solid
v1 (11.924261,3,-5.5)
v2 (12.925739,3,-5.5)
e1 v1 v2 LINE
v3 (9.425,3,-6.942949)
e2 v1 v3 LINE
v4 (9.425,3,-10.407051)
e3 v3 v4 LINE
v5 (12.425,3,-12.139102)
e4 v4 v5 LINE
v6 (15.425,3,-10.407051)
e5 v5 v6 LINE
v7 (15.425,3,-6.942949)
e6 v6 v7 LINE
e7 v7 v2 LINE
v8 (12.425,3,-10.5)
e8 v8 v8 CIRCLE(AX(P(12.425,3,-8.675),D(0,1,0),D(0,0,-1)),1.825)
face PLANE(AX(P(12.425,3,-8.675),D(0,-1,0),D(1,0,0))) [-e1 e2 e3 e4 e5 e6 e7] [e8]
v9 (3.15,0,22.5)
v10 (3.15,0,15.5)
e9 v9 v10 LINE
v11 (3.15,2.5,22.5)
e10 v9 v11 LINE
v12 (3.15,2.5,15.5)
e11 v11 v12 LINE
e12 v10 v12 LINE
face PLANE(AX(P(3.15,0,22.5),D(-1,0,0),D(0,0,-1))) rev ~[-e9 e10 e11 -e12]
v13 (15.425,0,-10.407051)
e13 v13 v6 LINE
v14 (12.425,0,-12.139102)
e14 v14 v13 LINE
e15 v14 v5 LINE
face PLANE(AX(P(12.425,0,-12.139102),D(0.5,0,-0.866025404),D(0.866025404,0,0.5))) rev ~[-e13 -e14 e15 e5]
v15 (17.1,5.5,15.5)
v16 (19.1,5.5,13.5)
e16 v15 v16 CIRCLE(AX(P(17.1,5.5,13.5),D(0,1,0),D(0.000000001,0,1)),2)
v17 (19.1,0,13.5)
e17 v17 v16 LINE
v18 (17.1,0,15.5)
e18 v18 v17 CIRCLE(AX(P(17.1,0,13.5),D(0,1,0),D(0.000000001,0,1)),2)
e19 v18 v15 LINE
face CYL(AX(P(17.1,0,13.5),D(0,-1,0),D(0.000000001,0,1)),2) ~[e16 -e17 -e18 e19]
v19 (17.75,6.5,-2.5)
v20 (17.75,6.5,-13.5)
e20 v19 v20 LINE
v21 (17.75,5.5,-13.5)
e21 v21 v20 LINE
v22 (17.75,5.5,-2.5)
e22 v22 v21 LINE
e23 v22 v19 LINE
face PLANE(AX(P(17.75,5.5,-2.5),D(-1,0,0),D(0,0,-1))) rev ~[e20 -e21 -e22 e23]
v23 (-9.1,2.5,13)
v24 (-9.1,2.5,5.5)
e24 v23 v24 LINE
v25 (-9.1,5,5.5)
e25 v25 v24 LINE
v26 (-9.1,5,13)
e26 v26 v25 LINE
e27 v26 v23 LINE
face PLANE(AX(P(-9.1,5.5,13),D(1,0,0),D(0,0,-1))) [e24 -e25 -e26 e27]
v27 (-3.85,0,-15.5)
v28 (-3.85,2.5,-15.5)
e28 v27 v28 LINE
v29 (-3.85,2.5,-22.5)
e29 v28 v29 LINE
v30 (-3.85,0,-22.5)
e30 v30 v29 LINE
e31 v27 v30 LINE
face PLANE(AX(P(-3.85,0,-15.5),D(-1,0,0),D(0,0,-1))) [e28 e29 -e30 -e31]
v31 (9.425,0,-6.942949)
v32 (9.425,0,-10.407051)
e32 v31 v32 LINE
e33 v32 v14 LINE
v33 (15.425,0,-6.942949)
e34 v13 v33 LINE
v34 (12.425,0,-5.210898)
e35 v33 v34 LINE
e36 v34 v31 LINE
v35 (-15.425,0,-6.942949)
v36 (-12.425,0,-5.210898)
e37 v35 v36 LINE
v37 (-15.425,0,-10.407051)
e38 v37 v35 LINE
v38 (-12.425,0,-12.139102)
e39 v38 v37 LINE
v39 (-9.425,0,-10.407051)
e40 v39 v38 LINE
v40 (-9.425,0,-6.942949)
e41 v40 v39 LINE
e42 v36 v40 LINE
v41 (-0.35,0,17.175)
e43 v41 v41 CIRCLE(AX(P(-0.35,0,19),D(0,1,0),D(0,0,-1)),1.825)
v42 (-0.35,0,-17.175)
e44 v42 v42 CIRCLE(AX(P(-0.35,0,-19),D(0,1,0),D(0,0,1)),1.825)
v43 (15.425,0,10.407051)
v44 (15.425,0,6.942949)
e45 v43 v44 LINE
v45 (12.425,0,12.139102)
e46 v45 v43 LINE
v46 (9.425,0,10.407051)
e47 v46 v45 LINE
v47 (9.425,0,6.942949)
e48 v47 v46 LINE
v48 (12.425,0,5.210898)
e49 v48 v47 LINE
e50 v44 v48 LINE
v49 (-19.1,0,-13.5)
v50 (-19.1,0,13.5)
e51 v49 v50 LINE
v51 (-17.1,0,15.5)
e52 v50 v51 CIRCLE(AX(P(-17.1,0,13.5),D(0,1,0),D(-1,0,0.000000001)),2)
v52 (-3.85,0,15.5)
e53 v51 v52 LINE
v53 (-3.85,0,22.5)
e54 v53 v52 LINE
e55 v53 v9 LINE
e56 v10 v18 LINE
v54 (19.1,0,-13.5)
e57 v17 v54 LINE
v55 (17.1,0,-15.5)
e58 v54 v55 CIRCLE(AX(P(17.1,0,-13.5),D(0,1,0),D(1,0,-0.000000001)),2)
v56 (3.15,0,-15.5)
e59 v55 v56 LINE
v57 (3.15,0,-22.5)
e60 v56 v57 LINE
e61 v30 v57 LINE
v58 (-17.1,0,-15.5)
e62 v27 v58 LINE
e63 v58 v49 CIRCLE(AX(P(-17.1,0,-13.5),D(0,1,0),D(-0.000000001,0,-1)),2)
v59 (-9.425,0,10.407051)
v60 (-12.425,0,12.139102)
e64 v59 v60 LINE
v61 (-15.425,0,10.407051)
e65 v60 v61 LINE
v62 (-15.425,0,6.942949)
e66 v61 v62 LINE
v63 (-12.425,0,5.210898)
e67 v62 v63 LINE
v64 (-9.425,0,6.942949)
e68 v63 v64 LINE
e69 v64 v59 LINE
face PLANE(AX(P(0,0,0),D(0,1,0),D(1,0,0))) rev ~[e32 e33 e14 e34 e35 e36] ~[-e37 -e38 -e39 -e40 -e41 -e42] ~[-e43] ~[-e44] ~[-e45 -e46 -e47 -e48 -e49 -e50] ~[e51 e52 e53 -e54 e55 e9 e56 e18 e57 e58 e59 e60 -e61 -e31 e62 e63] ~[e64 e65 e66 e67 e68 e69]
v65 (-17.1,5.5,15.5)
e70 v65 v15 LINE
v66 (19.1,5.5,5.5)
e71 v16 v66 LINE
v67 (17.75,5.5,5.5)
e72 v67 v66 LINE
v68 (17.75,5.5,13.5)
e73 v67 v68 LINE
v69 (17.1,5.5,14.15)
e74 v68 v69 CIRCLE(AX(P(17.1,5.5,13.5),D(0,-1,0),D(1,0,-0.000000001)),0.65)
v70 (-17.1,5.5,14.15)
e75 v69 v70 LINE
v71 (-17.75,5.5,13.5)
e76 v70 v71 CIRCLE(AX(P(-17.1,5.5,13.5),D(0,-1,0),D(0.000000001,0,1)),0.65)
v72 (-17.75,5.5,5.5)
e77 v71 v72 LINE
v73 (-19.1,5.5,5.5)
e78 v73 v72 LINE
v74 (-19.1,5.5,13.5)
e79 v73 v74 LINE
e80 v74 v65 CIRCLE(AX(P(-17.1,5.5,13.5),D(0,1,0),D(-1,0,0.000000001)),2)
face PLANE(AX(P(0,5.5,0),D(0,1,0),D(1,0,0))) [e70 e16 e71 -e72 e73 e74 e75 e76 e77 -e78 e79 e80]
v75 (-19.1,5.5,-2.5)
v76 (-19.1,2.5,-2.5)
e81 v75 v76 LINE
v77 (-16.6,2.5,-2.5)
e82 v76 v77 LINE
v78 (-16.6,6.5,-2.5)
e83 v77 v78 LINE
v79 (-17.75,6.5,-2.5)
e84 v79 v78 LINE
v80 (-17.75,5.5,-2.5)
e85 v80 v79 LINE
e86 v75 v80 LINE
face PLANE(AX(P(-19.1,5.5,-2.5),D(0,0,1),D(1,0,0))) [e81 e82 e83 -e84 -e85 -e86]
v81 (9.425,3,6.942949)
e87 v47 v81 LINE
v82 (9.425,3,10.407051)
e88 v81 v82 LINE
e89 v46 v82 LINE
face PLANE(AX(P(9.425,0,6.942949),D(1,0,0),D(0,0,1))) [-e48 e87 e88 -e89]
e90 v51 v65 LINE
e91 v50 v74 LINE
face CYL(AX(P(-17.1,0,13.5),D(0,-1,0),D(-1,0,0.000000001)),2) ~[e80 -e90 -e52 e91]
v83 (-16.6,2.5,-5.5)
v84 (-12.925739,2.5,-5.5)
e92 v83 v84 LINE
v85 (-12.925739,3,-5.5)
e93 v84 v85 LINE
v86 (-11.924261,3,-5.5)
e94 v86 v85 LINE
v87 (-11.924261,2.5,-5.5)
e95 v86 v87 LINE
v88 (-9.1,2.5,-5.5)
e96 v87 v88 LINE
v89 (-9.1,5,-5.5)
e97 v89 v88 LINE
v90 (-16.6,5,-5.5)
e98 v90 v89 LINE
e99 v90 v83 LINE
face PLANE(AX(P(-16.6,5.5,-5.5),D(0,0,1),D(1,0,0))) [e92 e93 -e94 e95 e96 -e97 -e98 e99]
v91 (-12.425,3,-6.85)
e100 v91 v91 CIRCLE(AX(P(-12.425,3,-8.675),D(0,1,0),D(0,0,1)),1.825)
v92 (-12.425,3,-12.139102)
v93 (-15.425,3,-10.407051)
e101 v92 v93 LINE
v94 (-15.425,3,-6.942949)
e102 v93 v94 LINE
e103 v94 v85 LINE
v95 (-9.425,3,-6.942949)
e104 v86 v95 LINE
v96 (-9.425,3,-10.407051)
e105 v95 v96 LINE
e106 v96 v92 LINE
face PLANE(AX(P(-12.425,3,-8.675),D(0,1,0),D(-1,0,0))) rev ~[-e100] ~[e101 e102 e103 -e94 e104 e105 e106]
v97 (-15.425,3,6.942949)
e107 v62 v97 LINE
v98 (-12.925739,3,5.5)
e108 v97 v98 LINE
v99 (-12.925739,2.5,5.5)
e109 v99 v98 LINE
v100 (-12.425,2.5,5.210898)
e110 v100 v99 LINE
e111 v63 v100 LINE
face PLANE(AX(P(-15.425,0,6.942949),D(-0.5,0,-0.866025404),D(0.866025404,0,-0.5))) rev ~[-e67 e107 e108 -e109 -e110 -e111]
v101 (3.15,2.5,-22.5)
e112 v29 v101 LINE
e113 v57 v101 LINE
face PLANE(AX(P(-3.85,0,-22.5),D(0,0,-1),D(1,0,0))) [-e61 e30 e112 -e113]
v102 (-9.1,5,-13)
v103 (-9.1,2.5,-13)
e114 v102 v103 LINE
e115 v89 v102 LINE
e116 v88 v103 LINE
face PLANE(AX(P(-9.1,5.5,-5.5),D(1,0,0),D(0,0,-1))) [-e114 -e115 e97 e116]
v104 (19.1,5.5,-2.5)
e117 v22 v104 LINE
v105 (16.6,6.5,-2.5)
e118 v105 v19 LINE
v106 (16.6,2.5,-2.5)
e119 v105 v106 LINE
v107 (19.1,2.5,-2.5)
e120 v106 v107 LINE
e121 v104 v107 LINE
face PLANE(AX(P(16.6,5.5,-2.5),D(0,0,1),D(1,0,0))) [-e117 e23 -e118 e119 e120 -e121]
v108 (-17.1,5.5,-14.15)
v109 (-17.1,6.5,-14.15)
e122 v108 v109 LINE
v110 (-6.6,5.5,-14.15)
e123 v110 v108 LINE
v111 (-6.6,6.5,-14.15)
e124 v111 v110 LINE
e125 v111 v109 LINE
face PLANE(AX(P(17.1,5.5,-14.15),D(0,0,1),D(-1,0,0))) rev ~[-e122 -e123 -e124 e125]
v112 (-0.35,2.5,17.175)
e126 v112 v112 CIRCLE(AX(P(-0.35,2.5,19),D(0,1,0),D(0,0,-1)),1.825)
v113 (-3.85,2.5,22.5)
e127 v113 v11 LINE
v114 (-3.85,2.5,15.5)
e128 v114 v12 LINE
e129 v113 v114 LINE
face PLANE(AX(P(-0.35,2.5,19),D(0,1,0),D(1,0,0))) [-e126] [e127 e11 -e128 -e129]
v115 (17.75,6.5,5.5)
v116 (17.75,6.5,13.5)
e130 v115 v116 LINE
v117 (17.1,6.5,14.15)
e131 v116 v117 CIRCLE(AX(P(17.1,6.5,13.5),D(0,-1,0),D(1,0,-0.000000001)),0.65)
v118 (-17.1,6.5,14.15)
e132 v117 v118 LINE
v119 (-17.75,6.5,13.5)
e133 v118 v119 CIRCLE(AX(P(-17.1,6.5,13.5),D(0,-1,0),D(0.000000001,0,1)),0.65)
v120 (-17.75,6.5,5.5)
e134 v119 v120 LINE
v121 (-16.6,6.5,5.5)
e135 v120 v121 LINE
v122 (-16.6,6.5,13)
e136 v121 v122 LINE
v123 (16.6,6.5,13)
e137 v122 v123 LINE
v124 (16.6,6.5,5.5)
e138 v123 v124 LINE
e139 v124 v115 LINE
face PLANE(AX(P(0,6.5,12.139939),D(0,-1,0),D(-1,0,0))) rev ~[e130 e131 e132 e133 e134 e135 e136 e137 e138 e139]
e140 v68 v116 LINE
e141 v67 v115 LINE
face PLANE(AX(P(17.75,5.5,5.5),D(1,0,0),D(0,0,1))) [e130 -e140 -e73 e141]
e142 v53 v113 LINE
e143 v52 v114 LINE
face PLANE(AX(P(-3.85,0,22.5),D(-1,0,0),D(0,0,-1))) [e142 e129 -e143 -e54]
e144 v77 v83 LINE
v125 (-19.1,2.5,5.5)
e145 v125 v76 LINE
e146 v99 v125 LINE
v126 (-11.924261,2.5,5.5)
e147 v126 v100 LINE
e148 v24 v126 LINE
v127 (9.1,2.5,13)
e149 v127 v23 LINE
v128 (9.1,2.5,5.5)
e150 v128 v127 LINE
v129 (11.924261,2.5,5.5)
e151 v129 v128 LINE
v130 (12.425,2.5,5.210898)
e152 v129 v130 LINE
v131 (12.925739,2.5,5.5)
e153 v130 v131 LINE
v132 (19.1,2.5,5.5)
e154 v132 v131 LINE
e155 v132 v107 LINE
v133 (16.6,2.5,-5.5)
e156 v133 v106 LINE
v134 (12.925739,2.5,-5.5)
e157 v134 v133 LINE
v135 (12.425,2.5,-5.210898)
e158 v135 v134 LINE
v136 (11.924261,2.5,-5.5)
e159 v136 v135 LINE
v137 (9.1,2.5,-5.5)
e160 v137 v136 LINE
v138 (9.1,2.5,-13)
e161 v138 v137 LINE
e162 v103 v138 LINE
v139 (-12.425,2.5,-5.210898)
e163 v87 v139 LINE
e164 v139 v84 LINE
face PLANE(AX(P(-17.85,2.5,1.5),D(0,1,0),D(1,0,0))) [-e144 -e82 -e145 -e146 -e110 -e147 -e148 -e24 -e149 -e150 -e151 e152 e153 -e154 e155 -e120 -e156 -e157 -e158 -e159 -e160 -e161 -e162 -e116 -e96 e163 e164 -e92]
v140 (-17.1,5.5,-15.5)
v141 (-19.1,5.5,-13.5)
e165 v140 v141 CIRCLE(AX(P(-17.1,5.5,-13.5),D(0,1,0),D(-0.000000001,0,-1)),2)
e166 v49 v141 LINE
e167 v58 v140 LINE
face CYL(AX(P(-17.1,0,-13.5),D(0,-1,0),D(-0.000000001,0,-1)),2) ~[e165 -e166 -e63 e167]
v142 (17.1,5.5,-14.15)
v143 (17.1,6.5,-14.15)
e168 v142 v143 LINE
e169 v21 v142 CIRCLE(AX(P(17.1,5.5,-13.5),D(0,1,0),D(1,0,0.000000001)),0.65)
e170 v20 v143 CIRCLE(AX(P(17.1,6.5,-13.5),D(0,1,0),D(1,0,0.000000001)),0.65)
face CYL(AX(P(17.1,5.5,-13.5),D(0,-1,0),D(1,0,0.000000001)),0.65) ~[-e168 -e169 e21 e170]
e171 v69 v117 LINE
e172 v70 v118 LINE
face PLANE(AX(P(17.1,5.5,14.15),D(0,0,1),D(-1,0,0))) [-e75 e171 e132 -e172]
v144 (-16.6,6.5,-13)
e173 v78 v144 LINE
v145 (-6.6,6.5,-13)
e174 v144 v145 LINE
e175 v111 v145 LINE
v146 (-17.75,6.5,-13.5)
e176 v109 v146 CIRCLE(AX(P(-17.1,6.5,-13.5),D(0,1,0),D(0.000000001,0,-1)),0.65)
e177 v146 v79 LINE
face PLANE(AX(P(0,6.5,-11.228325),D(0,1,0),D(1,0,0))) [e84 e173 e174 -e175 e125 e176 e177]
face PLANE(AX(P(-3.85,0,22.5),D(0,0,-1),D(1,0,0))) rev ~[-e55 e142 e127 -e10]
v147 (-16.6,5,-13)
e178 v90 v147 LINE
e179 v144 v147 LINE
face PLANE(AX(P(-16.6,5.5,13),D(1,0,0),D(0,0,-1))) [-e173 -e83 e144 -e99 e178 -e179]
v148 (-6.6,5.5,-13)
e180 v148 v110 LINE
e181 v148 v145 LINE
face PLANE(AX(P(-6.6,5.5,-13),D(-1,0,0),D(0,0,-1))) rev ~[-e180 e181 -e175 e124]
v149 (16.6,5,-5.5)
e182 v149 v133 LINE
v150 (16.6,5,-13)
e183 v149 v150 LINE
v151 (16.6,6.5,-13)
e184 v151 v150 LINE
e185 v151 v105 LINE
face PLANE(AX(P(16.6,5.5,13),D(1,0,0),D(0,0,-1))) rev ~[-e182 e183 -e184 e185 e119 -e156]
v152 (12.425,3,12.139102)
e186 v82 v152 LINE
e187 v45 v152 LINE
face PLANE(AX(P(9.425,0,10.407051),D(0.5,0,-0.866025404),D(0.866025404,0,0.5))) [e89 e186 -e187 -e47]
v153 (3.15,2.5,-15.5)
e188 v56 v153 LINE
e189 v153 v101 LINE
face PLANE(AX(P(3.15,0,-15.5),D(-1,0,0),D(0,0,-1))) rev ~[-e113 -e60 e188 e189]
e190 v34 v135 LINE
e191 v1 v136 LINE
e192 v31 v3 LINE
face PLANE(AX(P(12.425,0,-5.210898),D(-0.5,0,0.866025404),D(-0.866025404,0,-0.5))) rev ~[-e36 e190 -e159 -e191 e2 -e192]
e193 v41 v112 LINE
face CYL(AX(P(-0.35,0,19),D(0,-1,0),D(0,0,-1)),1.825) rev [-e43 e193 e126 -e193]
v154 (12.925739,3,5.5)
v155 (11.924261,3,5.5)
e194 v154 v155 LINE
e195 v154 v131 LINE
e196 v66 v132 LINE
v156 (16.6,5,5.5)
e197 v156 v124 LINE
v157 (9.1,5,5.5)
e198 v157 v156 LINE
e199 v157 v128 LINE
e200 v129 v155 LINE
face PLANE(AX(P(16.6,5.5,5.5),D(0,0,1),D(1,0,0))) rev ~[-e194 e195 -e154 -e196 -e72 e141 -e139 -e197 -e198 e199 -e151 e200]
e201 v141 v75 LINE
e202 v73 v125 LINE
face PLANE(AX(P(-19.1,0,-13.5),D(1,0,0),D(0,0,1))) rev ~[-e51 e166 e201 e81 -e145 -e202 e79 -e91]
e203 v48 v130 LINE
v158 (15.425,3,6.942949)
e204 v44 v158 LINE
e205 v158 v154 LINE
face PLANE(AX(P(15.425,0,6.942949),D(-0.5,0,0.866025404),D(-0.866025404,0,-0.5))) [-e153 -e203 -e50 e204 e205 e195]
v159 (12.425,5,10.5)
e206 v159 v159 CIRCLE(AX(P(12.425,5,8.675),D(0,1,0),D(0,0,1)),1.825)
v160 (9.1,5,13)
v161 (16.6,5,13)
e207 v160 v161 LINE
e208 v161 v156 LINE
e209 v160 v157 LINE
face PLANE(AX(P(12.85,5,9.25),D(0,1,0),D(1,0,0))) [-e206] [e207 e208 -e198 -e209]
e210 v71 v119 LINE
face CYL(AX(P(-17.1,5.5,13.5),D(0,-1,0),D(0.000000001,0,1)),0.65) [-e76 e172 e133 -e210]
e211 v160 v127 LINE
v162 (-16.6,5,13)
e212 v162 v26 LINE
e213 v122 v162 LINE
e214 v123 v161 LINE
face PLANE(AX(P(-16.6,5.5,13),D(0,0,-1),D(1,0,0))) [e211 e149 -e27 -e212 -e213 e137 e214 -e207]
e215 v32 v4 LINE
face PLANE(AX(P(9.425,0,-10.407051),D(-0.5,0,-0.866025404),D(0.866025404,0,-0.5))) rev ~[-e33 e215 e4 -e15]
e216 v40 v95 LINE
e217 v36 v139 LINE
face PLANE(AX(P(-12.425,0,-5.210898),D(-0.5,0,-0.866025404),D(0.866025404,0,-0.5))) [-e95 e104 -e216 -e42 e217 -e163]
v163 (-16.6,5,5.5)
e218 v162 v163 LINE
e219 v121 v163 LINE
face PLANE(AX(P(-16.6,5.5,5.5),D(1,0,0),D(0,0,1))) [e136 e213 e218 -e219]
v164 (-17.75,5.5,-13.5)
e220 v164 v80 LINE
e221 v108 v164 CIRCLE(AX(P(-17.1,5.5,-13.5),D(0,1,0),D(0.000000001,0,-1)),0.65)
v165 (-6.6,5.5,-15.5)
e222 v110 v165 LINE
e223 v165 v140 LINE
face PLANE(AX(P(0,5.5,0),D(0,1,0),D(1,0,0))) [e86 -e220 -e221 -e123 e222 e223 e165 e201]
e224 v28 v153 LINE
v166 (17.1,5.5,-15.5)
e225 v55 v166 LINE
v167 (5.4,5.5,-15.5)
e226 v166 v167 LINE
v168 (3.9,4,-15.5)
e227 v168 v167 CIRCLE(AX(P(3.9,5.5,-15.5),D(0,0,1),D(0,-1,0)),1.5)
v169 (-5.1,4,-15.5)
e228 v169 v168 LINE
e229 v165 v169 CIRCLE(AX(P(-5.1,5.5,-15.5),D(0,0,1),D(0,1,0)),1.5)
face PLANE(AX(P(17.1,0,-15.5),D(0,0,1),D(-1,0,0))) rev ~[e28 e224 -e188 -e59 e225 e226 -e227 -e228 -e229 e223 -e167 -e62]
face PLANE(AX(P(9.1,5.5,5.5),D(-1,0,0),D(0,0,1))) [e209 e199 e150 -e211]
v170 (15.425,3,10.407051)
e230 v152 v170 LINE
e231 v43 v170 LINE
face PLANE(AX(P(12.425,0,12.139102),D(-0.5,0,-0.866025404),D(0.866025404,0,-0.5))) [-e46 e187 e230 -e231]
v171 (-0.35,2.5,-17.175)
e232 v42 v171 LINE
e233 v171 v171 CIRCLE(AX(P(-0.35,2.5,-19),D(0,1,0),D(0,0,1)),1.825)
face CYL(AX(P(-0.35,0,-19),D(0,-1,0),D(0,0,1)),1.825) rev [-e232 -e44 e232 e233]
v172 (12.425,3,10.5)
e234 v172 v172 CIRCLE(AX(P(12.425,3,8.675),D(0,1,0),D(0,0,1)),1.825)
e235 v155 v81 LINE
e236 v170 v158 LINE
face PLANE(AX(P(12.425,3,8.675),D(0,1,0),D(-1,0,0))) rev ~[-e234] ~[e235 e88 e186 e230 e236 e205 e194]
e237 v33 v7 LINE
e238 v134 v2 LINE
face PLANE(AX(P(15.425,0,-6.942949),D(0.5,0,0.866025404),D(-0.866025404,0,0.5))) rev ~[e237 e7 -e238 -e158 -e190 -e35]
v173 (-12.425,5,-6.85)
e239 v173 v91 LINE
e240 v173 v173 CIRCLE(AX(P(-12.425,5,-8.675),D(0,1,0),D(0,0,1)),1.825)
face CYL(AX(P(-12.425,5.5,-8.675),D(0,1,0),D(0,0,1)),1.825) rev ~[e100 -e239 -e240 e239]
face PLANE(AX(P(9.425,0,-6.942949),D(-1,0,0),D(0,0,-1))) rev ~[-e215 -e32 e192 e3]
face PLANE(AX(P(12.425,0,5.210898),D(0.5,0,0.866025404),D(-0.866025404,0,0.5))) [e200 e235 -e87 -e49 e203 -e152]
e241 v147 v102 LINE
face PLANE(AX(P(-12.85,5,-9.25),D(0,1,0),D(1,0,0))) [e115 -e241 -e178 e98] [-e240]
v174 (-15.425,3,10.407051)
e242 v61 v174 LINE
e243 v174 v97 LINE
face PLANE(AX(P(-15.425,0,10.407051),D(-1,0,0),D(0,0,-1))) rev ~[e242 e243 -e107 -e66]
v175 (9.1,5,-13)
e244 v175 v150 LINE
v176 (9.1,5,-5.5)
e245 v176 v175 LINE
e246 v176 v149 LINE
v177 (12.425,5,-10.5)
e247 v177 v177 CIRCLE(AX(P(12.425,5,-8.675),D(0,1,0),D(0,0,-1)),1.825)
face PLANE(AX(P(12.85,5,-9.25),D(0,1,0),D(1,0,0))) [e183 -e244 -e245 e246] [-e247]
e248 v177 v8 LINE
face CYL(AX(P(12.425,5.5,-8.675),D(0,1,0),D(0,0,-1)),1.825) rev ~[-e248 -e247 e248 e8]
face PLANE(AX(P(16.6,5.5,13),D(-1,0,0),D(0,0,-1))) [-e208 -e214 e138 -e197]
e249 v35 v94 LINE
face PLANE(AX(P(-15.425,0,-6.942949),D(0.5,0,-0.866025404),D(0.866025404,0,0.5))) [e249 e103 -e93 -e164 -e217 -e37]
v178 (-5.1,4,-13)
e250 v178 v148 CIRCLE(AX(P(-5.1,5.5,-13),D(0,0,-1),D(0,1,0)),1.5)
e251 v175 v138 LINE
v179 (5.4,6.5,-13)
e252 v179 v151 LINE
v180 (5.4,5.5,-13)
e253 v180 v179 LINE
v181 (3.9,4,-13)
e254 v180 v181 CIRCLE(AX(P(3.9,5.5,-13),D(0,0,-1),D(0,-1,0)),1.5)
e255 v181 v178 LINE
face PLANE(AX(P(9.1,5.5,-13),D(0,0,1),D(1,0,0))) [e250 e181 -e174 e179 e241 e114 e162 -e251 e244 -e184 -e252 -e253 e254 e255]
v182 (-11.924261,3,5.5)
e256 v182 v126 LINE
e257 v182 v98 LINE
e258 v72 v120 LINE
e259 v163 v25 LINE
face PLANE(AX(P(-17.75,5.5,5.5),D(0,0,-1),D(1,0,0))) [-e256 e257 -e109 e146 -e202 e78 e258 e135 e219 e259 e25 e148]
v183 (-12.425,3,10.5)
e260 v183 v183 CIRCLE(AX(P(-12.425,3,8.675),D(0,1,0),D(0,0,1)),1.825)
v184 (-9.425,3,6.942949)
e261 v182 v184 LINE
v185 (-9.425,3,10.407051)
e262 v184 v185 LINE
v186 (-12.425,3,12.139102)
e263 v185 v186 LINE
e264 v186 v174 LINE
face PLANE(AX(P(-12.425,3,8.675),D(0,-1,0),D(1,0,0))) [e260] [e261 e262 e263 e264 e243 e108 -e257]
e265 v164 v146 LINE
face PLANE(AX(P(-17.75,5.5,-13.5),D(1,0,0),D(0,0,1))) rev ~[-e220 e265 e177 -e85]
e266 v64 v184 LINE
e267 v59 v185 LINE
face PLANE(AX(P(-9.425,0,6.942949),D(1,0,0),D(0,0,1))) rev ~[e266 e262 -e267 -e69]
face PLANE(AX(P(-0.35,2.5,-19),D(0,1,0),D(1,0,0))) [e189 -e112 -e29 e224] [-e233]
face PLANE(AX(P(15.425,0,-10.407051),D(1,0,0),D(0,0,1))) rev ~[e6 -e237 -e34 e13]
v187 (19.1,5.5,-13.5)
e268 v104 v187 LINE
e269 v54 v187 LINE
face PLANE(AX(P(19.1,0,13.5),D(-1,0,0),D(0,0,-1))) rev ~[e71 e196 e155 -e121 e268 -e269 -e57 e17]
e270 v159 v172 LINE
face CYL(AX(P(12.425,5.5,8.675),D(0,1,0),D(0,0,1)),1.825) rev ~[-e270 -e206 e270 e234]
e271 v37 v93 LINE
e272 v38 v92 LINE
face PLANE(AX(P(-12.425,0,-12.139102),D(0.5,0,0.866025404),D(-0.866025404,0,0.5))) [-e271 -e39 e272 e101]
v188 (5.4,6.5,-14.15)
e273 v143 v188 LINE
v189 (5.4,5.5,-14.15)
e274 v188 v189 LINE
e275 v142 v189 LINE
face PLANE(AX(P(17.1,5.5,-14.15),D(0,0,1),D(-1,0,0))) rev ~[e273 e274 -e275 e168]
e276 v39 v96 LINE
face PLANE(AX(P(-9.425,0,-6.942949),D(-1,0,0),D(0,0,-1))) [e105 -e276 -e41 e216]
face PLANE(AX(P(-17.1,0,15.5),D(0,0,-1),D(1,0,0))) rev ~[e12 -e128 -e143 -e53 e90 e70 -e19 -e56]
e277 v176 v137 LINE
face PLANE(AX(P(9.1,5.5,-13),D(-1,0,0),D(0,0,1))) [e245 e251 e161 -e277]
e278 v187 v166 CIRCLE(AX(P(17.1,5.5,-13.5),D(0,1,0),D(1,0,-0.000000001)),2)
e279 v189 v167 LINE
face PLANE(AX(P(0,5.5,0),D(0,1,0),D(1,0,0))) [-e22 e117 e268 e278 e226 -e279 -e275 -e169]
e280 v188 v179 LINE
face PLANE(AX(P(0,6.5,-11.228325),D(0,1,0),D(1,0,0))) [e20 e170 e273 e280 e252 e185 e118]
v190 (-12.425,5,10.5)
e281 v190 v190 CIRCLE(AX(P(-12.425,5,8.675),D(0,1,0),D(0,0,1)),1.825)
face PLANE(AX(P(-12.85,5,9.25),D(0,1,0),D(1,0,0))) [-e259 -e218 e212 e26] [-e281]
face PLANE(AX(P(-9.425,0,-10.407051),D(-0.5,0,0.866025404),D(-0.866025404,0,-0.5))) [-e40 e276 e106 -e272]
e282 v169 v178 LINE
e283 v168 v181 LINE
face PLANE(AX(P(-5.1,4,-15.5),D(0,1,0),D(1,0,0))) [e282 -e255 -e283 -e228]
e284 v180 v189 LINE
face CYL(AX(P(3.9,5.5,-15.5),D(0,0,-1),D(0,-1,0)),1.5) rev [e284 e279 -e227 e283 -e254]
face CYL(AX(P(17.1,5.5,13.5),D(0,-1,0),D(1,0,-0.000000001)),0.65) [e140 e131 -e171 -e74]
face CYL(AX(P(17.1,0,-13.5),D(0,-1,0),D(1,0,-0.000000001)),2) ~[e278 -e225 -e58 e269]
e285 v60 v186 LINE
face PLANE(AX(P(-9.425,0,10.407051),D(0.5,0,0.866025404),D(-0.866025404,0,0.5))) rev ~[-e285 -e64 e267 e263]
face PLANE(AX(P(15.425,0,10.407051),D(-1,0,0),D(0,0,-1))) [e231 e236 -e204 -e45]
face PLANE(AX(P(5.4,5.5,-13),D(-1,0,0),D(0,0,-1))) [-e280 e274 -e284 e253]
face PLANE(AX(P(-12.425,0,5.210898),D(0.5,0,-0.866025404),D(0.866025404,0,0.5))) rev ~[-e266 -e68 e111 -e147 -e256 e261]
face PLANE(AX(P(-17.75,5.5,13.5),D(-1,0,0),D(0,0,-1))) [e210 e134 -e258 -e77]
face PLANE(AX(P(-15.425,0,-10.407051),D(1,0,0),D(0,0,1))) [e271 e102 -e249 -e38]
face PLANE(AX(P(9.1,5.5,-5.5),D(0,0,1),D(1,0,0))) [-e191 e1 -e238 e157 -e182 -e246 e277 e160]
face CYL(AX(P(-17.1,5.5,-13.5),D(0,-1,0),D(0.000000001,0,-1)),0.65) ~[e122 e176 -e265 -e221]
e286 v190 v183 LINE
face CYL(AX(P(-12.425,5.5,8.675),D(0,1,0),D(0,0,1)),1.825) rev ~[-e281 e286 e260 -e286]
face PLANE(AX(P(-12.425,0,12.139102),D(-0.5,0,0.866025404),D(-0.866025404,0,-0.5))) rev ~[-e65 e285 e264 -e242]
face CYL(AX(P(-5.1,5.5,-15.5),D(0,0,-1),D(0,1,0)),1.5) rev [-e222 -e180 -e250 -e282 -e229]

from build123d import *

# Parameters (mm, degrees)
BOSS_EXTRUDE1_DEPTH = 5.5
CUT_EXTRUDE1_DEPTH  = 3
SKETCH3_W           = 7.5
SKETCH3_H           = 7.5
CUT_EXTRUDE2_DEPTH  = 0.5
SKETCH4_R           = 1.825
CUT_EXTRUDE3_DEPTH  = 10
SKETCH5_W           = 2.5
SKETCH5_H           = 8
CUT_EXTRUDE4_DEPTH  = 3
SKETCH6_W           = 7
SKETCH6_H           = 7
SKETCH6_R           = 1.825
BOSS_EXTRUDE2_DEPTH = 2.5
BOSS_EXTRUDE3_DEPTH = 1
CUT_EXTRUDE6_DEPTH  = 4
SKETCH10_W          = 12
SKETCH10_H          = 2.5
CUT_EXTRUDE7_DEPTH  = 4
CUT_EXTRUDE8_DEPTH  = 3


with BuildPart() as part:
    # Sketch1 → Boss-Extrude1 (new body)
    with BuildSketch(Plane(origin=(0, 0, 0), x_dir=(1, 0, 0), z_dir=(0, 1, 0))):
        with BuildLine():
            Line((-17.1, -15.5), (17.1, -15.5))
            ThreePointArc((17.1, -15.5), (18.514213562, -14.914213562), (19.1, -13.5))
            Line((19.1, -13.5), (19.1, 13.5))
            ThreePointArc((19.1, 13.5), (18.514213562, 14.914213562), (17.1, 15.5))
            Line((17.1, 15.5), (-17.1, 15.5))
            ThreePointArc((-17.1, 15.5), (-18.514213562, 14.914213562), (-19.1, 13.5))
            Line((-19.1, 13.5), (-19.1, -13.5))
            ThreePointArc((-19.1, -13.5), (-18.514213562, -14.914213562), (-17.1, -15.5))
        make_face()
    extrude(amount=BOSS_EXTRUDE1_DEPTH)

    # Sketch2 → Cut-Extrude1 (cut)
    with BuildSketch(Plane(origin=(0, 5.5, 0), x_dir=(1, 0, 0), z_dir=(0, 1, 0))):
        Polygon((-16.6, 5.5), (-9.1, 5.5), (-9.1, 13), (9.1, 13), (9.1, 5.5), (16.6, 5.5), (16.6, -5.5), (9.1, -5.5), (9.1, -13), (-9.1, -13), (-9.1, -5.5), (-16.6, -5.5), align=None)
    extrude(amount=-CUT_EXTRUDE1_DEPTH, mode=Mode.SUBTRACT)

    # Sketch3 → Cut-Extrude2 (cut)
    with BuildSketch(Plane(origin=(0, 5.5, 0), x_dir=(1, 0, 0), z_dir=(0, 1, 0))):
        with Locations((-12.85, 9.25)):
            Rectangle(SKETCH3_W, SKETCH3_H)
        with Locations((12.85, 9.25)):
            Rectangle(SKETCH3_W, SKETCH3_H)
        with Locations((12.85, -9.25)):
            Rectangle(SKETCH3_W, SKETCH3_H)
        with Locations((-12.85, -9.25)):
            Rectangle(SKETCH3_W, SKETCH3_H)
    extrude(amount=-CUT_EXTRUDE2_DEPTH, mode=Mode.SUBTRACT)

    # Sketch4 → Cut-Extrude3 (cut)
    with BuildSketch(Plane(origin=(0, 5.5, 0), x_dir=(1, 0, 0), z_dir=(0, 1, 0))):
        with Locations(Location((-12.425, 8.675, 0), (0, 0, 270))):
            Circle(SKETCH4_R)
        with Locations(Location((12.425, 8.675, 0), (0, 0, 90))):
            Circle(SKETCH4_R)
        with Locations(Location((12.425, -8.675, 0), (0, 0, 270))):
            Circle(SKETCH4_R)
        with Locations(Location((-12.425, -8.675, 0), (0, 0, 270))):
            Circle(SKETCH4_R)
    extrude(amount=-CUT_EXTRUDE3_DEPTH, mode=Mode.SUBTRACT)

    # Sketch5 → Cut-Extrude4 (cut)
    with BuildSketch(Plane(origin=(0, 5.5, 0), x_dir=(1, 0, 0), z_dir=(0, 1, 0))):
        with Locations((-17.85, -1.5)):
            Rectangle(SKETCH5_W, SKETCH5_H)
        with Locations((17.85, -1.5)):
            Rectangle(SKETCH5_W, SKETCH5_H)
    extrude(amount=-CUT_EXTRUDE4_DEPTH, mode=Mode.SUBTRACT)

    # Sketch6 → Boss-Extrude2 (add)
    # profile 1 of 2: a face of its own
    with BuildSketch(Plane(origin=(0, 0, 0), x_dir=(1, 0, 0), z_dir=(0, 1, 0))):
        with Locations((-0.35, 19)):
            Rectangle(SKETCH6_W, SKETCH6_H)
        with Locations(Location((-0.35, 19, 0), (0, 0, 270))):
            Circle(SKETCH6_R, mode=Mode.SUBTRACT)
    # profile 2 of 2: a face of its own
    with BuildSketch(Plane(origin=(0, 0, 0), x_dir=(1, 0, 0), z_dir=(0, 1, 0))):
        with Locations((-0.35, -19)):
            Rectangle(SKETCH6_W, SKETCH6_H)
        with Locations(Location((-0.35, -19, 0), (0, 0, 90))):
            Circle(SKETCH6_R, mode=Mode.SUBTRACT)
    extrude(amount=BOSS_EXTRUDE2_DEPTH)

    # Sketch7 → Boss-Extrude3 (add)
    with BuildSketch(Plane(origin=(0, 5.5, 0), x_dir=(1, 0, 0), z_dir=(0, 1, 0))):
        with BuildLine():
            ThreePointArc((-17.1, -14.15), (-17.559619408, -13.959619408), (-17.75, -13.5))
            Line((-17.75, -13.5), (-17.75, -5.5))
            Line((-17.75, -5.5), (-16.6, -5.5))
            Line((-16.6, -5.5), (-16.6, -13))
            Line((-16.6, -13), (16.6, -13))
            Line((16.6, -13), (16.6, -5.5))
            Line((16.6, -5.5), (17.75, -5.5))
            Line((17.75, -5.5), (17.75, -13.5))
            ThreePointArc((17.75, -13.5), (17.559619408, -13.959619408), (17.1, -14.15))
            Line((17.1, -14.15), (-17.1, -14.15))
        make_face()
        with BuildLine():
            Line((16.6, 2.5), (17.75, 2.5))
            Line((17.75, 2.5), (17.75, 13.5))
            ThreePointArc((17.75, 13.5), (17.559619408, 13.959619408), (17.1, 14.15))
            Line((17.1, 14.15), (-17.1, 14.15))
            ThreePointArc((-17.1, 14.15), (-17.559619408, 13.959619408), (-17.75, 13.5))
            Line((-17.75, 13.5), (-17.75, 2.5))
            Line((-17.75, 2.5), (-16.6, 2.5))
            Line((-16.6, 2.5), (-16.6, 13))
            Line((-16.6, 13), (16.6, 13))
            Line((16.6, 13), (16.6, 2.5))
        make_face()
    extrude(amount=BOSS_EXTRUDE3_DEPTH)

    # Sketch9 → Cut-Extrude6 (cut)
    with BuildSketch(Plane(origin=(0, 0, -15.5), x_dir=(-1, 0, 0), z_dir=(0, 0, -1))):
        with BuildLine():
            Line((5.1, 4), (-3.9, 4))
            ThreePointArc((-3.9, 4), (-5.4, 5.5), (-3.9, 7))
            Line((-3.9, 7), (5.1, 7))
            ThreePointArc((5.1, 7), (6.6, 5.5), (5.1, 4))
        make_face()
    extrude(amount=-CUT_EXTRUDE6_DEPTH, mode=Mode.SUBTRACT)

    # Sketch10 → Cut-Extrude7 (cut)
    with BuildSketch(Plane(origin=(0, 5.5, 0), x_dir=(1, 0, 0), z_dir=(0, 1, 0))):
        with Locations((-0.6, 14.25)):
            Rectangle(SKETCH10_W, SKETCH10_H)
    extrude(amount=CUT_EXTRUDE7_DEPTH, mode=Mode.SUBTRACT)

    # Sketch12 → Cut-Extrude8 (cut)
    with BuildSketch(Plane.XZ):
        Polygon((-12.425, 12.139101615), (-15.425, 10.407050808), (-15.425, 6.942949192), (-12.425, 5.210898385), (-9.425, 6.942949192), (-9.425, 10.407050808), align=None)
        Polygon((9.425, 10.407050808), (12.425, 12.139101615), (15.425, 10.407050808), (15.425, 6.942949192), (12.425, 5.210898385), (9.425, 6.942949192), align=None)
        Polygon((12.425, -12.139101615), (15.425, -10.407050808), (15.425, -6.942949192), (12.425, -5.210898385), (9.425, -6.942949192), (9.425, -10.407050808), align=None)
        Polygon((-9.425, -10.407050808), (-12.425, -12.139101615), (-15.425, -10.407050808), (-15.425, -6.942949192), (-12.425, -5.210898385), (-9.425, -6.942949192), align=None)
    extrude(amount=-CUT_EXTRUDE8_DEPTH, mode=Mode.SUBTRACT)


solid = part.part
